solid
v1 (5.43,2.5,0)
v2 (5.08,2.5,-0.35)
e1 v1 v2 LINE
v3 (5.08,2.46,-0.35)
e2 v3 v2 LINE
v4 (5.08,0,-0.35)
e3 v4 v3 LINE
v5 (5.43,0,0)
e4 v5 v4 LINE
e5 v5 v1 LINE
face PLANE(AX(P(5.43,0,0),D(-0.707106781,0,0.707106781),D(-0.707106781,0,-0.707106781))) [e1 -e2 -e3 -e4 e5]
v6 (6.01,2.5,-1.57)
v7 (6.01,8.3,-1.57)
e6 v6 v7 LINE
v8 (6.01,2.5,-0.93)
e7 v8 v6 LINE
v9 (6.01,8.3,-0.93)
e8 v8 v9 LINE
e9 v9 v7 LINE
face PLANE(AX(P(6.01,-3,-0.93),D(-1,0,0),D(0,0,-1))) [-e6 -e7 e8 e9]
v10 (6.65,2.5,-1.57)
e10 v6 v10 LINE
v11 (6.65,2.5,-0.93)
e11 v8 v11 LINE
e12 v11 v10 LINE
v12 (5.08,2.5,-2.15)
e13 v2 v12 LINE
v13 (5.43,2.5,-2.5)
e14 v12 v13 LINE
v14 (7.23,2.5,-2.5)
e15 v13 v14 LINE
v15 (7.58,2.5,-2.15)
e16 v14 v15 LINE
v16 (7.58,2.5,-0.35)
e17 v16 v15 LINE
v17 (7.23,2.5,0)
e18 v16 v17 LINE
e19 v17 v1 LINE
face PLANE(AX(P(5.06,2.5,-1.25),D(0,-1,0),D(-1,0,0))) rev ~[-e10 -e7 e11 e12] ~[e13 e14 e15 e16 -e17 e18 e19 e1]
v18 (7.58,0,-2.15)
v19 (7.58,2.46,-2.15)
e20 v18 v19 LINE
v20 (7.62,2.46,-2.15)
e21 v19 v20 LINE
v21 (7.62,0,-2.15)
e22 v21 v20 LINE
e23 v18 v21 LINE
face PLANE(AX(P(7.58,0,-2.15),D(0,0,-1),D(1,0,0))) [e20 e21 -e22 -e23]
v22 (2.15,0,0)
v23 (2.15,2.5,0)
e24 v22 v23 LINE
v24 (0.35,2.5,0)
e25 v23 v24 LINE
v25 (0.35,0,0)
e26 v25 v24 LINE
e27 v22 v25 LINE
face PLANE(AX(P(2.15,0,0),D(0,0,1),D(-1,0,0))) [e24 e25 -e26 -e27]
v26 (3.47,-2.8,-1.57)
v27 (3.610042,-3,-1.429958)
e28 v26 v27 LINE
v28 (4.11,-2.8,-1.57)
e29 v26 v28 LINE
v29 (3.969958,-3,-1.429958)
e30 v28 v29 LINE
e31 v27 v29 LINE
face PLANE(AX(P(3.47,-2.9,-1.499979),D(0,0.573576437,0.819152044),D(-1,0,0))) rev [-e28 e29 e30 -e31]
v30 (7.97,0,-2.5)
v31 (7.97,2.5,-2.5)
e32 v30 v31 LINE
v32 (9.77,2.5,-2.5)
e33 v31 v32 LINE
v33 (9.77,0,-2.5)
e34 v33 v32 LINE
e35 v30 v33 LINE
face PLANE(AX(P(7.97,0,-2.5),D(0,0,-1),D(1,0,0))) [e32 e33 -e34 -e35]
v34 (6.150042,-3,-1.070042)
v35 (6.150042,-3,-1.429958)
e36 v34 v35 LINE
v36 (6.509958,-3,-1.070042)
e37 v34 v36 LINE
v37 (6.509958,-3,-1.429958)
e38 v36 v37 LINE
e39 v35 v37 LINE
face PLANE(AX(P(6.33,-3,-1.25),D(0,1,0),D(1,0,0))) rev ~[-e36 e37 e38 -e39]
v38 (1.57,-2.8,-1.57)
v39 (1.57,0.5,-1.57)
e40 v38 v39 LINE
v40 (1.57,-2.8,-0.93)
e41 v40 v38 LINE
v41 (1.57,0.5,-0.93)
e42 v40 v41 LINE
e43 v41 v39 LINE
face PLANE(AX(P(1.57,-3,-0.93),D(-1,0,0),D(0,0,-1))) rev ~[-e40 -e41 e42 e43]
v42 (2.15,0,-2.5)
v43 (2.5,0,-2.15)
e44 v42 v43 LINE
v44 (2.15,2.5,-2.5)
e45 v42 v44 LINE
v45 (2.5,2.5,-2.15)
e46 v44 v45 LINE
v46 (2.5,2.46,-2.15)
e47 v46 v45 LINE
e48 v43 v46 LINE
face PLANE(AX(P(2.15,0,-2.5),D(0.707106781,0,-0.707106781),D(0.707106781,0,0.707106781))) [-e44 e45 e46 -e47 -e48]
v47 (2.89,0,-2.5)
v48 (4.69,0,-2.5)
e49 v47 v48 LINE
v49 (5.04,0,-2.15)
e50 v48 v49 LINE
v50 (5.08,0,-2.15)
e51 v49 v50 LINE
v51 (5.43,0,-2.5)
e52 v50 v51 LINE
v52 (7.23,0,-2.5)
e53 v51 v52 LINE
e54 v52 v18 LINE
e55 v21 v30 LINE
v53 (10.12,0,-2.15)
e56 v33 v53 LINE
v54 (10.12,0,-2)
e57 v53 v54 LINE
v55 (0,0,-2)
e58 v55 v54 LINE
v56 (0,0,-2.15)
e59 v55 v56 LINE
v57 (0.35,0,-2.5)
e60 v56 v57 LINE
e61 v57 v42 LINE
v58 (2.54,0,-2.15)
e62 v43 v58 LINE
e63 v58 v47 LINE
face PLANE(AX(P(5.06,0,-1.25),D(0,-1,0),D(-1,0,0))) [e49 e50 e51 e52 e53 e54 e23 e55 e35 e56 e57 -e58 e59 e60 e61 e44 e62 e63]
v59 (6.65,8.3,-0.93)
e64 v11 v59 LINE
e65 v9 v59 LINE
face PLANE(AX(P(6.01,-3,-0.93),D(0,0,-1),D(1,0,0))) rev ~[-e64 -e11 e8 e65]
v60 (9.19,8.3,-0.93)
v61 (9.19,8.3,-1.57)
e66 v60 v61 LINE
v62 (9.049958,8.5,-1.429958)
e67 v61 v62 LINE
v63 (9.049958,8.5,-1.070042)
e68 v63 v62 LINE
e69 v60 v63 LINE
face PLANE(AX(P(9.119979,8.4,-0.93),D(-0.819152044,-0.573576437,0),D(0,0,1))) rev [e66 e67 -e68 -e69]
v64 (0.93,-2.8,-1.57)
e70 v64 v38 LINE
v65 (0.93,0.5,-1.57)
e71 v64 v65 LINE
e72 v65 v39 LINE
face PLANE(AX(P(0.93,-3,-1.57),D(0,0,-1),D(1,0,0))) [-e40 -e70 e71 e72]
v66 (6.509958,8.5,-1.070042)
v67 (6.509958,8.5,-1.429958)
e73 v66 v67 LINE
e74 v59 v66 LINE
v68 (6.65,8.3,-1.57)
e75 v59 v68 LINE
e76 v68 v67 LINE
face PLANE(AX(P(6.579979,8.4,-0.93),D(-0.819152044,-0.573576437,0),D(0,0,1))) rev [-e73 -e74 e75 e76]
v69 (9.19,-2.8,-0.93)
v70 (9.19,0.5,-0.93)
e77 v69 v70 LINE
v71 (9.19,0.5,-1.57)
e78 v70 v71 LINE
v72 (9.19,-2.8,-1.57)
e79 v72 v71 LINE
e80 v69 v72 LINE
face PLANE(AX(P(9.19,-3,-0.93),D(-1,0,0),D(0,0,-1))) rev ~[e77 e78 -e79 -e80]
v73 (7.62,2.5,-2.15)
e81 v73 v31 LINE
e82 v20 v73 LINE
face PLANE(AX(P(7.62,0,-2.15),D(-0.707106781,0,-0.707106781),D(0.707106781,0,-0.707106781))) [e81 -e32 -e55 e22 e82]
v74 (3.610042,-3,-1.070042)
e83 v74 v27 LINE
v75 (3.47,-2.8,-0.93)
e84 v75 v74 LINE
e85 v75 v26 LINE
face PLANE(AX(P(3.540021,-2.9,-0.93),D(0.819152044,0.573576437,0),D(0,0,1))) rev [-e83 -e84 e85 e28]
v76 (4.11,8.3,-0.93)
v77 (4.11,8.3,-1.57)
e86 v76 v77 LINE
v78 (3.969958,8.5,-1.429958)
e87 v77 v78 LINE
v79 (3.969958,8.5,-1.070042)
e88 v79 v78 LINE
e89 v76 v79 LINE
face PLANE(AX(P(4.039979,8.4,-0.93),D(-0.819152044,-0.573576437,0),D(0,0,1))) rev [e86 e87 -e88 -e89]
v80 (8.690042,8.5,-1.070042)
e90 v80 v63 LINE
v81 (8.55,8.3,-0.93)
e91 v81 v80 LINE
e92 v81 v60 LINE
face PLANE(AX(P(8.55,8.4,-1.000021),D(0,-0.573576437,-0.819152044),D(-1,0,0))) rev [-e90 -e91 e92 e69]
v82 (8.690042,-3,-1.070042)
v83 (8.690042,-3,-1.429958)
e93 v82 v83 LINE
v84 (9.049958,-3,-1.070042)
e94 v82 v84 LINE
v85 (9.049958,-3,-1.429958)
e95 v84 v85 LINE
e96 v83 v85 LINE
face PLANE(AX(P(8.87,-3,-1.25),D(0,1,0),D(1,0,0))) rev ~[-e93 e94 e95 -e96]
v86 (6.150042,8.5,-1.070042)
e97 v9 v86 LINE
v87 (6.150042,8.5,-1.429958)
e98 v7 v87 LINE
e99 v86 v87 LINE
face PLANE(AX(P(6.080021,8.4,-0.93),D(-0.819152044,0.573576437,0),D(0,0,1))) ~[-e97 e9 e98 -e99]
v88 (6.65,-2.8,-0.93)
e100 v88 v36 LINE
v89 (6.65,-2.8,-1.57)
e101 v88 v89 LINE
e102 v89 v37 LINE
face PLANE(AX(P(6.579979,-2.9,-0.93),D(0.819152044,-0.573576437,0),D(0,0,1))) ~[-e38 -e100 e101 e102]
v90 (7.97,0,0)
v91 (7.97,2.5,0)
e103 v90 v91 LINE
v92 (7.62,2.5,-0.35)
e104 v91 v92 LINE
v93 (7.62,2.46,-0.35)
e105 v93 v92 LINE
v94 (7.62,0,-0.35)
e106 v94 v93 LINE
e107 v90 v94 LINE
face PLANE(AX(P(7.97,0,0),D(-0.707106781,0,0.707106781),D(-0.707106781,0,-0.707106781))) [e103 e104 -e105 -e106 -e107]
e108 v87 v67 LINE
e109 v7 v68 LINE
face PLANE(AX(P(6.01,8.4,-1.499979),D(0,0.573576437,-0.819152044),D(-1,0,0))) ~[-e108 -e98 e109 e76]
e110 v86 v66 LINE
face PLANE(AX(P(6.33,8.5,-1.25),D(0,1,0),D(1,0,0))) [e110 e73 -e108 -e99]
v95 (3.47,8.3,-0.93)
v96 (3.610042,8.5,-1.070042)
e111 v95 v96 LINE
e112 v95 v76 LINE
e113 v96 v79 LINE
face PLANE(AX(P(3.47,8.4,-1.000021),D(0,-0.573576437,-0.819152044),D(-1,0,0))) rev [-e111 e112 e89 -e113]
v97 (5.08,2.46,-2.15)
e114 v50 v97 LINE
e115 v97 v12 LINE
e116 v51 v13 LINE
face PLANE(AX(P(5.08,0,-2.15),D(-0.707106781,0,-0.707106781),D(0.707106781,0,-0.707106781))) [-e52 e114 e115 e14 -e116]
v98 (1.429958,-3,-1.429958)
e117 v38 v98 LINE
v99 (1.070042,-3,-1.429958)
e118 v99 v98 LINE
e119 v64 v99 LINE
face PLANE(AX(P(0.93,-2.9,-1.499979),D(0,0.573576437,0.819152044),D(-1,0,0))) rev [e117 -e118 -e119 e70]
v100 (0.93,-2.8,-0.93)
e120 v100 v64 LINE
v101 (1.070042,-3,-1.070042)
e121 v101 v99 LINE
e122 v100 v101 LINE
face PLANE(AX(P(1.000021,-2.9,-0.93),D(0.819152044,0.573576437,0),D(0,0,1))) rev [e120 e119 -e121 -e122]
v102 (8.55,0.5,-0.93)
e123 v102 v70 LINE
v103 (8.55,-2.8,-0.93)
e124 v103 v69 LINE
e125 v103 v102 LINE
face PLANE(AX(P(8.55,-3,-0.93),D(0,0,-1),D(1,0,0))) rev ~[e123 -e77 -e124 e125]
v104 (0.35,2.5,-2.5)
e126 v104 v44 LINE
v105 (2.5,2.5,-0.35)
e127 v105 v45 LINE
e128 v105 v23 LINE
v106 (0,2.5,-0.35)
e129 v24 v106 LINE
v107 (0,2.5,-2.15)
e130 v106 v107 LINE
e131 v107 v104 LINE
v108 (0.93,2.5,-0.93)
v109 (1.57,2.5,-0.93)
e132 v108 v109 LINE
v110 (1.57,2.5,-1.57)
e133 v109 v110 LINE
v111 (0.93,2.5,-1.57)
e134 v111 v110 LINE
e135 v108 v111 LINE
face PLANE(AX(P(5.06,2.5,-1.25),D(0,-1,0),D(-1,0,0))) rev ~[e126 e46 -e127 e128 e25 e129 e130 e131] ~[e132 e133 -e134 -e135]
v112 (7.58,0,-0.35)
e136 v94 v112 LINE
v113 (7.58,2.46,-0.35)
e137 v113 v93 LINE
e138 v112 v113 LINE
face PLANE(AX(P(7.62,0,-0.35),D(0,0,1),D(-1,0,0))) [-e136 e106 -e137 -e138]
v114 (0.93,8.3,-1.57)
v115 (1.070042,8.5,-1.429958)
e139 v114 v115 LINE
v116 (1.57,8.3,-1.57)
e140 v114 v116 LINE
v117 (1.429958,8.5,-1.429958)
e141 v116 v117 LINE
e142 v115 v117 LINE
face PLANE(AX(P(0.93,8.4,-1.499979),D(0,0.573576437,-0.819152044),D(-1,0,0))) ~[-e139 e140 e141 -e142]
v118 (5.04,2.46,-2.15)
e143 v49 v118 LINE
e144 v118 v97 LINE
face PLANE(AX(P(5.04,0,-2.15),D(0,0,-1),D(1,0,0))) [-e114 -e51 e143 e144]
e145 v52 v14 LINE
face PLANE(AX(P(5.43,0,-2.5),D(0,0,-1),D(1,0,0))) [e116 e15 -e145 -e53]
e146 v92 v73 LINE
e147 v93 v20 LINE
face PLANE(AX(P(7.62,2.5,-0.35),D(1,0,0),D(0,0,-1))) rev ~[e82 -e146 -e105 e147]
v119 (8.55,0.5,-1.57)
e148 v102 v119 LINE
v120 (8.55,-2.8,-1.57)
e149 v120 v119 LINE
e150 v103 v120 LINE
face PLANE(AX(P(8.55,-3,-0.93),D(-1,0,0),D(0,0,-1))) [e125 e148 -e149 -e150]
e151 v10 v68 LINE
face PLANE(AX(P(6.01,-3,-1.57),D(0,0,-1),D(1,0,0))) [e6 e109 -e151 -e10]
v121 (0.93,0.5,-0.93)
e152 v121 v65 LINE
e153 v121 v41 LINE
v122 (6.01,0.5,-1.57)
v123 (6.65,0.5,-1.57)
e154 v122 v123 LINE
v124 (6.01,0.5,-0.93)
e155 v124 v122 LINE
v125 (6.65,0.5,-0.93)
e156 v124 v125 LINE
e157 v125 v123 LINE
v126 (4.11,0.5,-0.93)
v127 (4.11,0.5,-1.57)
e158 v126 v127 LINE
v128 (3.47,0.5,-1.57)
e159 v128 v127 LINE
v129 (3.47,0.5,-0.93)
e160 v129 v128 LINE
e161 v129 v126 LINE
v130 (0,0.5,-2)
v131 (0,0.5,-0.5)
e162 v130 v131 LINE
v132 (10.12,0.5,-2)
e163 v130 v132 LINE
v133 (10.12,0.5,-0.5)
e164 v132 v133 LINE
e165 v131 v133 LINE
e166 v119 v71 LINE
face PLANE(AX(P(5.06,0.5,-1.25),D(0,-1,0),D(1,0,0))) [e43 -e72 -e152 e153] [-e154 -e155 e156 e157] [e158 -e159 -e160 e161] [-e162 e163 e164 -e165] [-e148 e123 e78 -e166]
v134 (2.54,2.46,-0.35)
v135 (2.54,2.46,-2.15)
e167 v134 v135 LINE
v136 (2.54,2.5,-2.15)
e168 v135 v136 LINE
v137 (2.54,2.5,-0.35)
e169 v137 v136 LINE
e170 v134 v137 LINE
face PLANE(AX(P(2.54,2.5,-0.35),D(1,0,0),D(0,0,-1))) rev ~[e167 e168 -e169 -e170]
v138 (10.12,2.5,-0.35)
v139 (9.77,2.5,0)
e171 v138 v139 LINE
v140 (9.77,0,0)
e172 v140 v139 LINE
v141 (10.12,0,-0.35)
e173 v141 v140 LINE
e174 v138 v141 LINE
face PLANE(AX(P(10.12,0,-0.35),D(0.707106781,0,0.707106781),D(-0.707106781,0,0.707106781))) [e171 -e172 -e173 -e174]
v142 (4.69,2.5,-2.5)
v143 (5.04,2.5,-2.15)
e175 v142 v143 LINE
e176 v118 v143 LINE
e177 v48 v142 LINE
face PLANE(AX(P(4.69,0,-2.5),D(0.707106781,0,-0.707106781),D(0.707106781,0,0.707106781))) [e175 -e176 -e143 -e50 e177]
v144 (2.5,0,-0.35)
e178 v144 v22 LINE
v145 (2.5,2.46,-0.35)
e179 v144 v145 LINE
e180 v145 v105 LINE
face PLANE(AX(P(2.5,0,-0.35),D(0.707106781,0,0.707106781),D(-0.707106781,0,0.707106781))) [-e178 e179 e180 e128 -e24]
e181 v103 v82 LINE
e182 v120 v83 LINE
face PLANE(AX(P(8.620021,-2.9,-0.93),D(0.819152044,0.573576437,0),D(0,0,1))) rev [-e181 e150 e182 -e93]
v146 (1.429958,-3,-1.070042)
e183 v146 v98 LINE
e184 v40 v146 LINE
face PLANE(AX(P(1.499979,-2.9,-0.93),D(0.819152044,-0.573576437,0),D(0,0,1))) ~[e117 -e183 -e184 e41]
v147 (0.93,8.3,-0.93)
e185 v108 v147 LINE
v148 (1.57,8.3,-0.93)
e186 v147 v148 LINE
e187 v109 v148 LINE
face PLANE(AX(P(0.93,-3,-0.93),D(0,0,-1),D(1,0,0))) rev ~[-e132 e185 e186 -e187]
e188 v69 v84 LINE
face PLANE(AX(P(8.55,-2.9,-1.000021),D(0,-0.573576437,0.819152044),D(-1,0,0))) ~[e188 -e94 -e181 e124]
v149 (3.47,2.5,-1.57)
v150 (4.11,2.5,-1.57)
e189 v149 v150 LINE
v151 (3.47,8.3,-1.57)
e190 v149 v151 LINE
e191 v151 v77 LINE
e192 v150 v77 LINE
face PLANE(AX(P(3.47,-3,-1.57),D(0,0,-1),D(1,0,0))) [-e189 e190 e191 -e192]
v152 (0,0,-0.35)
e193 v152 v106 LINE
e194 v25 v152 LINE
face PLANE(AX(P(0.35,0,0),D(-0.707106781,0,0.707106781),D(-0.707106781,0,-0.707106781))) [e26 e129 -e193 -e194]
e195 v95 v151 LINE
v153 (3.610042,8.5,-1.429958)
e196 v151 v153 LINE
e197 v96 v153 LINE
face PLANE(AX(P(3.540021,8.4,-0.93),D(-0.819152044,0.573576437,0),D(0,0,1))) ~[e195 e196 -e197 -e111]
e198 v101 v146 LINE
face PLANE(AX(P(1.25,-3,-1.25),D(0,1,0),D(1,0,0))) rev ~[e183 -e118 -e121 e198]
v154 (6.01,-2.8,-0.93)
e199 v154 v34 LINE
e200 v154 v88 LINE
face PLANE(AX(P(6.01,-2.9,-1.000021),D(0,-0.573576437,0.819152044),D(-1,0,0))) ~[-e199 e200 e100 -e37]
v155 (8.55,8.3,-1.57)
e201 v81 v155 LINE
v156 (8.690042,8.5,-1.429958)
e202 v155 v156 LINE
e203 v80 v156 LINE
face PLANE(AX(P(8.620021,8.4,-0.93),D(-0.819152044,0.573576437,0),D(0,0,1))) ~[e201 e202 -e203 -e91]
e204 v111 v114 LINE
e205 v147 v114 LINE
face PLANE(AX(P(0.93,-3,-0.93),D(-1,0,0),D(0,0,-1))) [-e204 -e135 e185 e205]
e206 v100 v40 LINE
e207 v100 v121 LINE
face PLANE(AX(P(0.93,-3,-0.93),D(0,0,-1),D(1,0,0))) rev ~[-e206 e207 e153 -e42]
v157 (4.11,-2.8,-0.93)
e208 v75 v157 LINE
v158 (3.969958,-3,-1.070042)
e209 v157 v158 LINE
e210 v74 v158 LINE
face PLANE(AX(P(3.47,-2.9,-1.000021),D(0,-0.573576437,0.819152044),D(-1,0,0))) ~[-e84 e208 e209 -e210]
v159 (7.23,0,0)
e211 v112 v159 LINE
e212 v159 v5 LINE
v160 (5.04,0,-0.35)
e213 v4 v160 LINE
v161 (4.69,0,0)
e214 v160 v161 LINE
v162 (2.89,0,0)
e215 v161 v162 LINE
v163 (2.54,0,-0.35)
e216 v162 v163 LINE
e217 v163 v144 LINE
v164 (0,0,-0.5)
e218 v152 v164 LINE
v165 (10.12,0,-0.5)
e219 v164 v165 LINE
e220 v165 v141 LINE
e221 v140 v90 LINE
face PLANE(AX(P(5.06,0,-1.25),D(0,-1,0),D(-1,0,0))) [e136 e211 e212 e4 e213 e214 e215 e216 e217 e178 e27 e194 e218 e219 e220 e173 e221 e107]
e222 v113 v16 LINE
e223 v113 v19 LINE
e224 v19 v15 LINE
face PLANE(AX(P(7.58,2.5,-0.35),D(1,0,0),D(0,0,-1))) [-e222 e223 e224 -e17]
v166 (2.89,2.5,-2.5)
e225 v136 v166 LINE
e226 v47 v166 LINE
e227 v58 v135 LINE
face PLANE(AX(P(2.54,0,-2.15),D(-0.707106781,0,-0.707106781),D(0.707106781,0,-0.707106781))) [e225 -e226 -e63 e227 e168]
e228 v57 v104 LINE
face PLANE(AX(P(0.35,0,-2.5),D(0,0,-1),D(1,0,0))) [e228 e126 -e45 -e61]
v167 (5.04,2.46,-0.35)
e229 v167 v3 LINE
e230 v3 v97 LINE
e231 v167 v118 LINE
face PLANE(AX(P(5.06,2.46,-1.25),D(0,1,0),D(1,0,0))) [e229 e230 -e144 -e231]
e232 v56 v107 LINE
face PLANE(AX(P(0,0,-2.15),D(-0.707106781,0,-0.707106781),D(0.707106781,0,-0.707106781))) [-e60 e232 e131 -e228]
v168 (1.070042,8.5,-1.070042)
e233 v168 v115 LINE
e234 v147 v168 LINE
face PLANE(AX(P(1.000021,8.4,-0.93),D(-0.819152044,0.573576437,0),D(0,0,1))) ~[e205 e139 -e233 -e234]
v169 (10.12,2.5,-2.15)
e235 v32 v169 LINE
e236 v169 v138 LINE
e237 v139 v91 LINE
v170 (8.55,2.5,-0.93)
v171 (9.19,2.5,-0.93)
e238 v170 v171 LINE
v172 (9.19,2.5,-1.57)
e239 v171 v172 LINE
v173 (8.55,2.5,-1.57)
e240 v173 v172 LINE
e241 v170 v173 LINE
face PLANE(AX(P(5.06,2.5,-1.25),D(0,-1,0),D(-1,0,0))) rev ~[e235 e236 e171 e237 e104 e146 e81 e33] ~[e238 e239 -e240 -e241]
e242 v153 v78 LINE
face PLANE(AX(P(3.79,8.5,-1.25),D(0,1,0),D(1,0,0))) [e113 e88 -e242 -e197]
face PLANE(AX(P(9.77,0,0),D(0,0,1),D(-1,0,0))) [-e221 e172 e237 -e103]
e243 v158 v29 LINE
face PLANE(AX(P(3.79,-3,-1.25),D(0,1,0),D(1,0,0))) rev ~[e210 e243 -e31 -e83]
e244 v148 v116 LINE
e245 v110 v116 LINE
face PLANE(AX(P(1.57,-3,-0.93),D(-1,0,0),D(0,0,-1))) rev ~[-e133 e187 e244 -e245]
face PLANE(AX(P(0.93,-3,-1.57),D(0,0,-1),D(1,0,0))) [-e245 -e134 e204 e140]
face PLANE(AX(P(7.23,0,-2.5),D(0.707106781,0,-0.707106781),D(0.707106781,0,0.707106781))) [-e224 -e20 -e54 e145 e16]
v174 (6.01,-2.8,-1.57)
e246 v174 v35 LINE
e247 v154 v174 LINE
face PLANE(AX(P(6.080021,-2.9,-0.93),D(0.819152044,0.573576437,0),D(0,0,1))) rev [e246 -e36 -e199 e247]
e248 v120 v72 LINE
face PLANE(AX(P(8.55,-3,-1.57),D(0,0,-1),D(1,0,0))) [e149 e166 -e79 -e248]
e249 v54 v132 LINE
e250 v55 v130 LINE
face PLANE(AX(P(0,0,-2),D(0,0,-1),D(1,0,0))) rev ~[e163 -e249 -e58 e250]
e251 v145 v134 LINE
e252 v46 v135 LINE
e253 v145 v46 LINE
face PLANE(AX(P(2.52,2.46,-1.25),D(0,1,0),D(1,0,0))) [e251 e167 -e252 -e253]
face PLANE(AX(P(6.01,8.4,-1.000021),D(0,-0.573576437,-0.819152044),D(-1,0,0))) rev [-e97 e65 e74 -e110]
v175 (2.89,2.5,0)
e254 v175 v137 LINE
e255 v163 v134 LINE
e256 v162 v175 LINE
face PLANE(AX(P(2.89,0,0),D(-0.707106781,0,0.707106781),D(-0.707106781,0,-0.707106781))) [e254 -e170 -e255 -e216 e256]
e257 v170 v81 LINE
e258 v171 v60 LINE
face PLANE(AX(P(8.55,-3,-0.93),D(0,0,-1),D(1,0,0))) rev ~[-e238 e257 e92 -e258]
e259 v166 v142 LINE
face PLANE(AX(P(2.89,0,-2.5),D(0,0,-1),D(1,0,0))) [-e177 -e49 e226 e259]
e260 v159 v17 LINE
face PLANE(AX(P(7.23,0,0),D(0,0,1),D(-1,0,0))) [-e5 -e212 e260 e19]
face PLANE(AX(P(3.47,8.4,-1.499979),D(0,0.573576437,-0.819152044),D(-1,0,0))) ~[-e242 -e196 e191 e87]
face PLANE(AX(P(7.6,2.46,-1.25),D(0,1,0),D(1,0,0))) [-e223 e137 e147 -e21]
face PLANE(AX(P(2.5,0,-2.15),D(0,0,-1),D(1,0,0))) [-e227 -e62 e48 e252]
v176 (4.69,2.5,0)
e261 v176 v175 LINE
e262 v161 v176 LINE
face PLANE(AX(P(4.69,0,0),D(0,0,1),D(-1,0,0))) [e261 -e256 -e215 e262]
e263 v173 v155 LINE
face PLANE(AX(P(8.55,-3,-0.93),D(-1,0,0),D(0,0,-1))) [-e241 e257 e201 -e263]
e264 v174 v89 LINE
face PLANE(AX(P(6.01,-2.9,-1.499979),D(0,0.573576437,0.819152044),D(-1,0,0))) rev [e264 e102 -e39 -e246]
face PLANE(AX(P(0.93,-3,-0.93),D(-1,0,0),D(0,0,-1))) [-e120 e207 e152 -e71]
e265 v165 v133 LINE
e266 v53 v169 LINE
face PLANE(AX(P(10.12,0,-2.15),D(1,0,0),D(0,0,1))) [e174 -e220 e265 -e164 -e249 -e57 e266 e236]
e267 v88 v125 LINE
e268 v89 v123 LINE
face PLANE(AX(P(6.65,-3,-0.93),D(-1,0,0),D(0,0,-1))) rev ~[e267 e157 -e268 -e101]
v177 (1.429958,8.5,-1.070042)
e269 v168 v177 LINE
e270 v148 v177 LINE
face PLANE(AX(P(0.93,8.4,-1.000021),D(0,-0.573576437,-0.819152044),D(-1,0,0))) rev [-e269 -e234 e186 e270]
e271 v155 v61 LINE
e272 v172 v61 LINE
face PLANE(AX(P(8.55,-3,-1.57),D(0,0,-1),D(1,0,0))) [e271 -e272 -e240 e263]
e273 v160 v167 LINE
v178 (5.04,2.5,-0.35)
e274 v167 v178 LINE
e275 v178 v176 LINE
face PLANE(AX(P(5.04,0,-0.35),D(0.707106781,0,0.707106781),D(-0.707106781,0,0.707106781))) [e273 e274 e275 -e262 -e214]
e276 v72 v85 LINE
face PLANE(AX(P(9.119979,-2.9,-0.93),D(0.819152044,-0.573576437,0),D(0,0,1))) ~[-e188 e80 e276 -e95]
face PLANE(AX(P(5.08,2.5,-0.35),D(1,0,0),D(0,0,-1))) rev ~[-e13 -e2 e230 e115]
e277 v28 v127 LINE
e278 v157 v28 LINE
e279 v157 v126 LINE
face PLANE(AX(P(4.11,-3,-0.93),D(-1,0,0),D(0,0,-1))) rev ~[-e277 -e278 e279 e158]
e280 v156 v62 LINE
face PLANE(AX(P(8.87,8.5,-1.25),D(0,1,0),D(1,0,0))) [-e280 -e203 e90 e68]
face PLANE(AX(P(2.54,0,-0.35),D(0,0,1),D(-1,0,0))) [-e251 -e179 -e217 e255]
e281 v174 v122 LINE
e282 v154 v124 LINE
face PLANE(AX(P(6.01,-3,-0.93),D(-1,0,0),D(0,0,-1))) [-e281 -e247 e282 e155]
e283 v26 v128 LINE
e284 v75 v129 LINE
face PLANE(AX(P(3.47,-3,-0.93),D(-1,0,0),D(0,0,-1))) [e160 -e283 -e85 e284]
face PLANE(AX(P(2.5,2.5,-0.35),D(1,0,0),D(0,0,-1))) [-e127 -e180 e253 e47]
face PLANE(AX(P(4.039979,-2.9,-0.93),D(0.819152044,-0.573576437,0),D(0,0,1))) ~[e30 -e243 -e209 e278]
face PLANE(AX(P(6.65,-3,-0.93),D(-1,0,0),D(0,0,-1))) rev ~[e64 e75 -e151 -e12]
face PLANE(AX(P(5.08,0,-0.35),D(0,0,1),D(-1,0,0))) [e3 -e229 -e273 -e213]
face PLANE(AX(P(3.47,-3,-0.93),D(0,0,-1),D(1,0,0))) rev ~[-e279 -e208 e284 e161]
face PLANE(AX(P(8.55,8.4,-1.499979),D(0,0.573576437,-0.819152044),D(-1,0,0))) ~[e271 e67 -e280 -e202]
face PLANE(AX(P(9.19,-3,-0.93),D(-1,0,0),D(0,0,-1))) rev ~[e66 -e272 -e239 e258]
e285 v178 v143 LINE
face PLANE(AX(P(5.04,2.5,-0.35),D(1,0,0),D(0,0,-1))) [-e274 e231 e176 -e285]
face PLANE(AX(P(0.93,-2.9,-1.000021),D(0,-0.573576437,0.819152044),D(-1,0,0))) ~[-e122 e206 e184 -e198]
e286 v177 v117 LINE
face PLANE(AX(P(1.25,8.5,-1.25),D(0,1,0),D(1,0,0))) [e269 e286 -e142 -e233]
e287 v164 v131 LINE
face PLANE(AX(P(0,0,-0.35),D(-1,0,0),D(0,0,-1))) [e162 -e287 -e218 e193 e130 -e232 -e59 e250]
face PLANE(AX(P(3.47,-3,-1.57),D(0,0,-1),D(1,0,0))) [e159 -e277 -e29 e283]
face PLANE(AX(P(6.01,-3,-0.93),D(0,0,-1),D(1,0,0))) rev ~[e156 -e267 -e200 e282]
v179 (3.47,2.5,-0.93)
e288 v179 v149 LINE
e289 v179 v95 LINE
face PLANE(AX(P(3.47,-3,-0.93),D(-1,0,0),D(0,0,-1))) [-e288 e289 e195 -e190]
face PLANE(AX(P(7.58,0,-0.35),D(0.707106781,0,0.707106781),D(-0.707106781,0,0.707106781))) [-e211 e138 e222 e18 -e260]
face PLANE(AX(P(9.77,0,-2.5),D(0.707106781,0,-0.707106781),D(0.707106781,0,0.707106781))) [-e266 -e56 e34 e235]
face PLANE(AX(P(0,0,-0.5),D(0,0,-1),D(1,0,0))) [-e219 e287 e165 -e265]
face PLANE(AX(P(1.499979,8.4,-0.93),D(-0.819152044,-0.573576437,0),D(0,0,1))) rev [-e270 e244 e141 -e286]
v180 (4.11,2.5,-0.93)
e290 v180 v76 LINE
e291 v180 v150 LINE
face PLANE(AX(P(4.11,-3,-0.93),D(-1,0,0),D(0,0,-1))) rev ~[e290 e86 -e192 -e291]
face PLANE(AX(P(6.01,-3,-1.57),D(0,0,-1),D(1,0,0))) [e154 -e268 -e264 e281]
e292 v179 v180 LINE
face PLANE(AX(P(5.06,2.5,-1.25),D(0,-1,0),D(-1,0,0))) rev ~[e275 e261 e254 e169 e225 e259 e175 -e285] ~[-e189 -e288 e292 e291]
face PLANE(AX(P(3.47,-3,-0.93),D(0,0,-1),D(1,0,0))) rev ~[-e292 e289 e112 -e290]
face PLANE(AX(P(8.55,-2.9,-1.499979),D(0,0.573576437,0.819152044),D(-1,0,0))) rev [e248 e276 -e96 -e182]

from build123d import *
from OCP.BRepFilletAPI import BRepFilletAPI_MakeChamfer

# Parameters (mm, degrees)
BOSS_EXTRUDE1_DEPTH         = 2.5
SKETCH2_W                   = 10.12
SKETCH2_H                   = 1.5
CUT_EXTRUDE1_DEPTH          = 0.5
SKETCH4_W                   = 0.04
SKETCH4_H                   = 1.8
CUT_EXTRUDE2_DEPTH          = 0.04
BOSS_EXTRUDE2_START         = -5.5
SKETCH3_W                   = 0.64
SKETCH3_H                   = 0.64
BOSS_EXTRUDE2_DEPTH         = 11.5
CHAMFER1_SIZE               = 0.2
CHAMFER1_SIZE2              = 0.140041508
LPATTERN1_COUNT             = 4
LPATTERN1_PITCH             = 2.54
CHAMFER1_OF_LPATTERN1_SIZE  = 0.2
CHAMFER1_OF_LPATTERN1_SIZE2 = 0.140041508


with BuildPart() as part:
    # Sketch1 → Boss-Extrude1 (new body)
    with BuildSketch(Plane(origin=(0, 0, 0), x_dir=(1, 0, 0), z_dir=(0, 1, 0))):
        Polygon((0, 2.15), (0.35, 2.5), (2.15, 2.5), (2.5, 2.15), (2.54, 2.15), (2.89, 2.5), (4.69, 2.5), (5.04, 2.15), (5.08, 2.15), (5.43, 2.5), (7.23, 2.5), (7.58, 2.15), (7.62, 2.15), (7.97, 2.5), (9.77, 2.5), (10.12, 2.15), (10.12, 0.35), (9.77, 0), (7.97, 0), (7.62, 0.35), (7.58, 0.35), (7.23, 0), (5.43, 0), (5.08, 0.35), (5.04, 0.35), (4.69, 0), (2.89, 0), (2.54, 0.35), (2.5, 0.35), (2.15, 0), (0.35, 0), (0, 0.35), align=None)
    extrude(amount=BOSS_EXTRUDE1_DEPTH)

    # Sketch2 → Cut-Extrude1 (cut)
    with BuildSketch(Plane.XZ):
        with Locations((5.06, -1.25)):
            Rectangle(SKETCH2_W, SKETCH2_H)
    extrude(amount=-CUT_EXTRUDE1_DEPTH, mode=Mode.SUBTRACT)

    # Sketch4 → Cut-Extrude2 (cut)
    with BuildSketch(Plane(origin=(0, 2.5, 0), x_dir=(1, 0, 0), z_dir=(0, 1, 0))):
        with Locations((5.06, 1.25)):
            Rectangle(SKETCH4_W, SKETCH4_H)
        with Locations((2.52, 1.25)):
            Rectangle(SKETCH4_W, SKETCH4_H)
        with Locations((7.6, 1.25)):
            Rectangle(SKETCH4_W, SKETCH4_H)
        with Locations((10.14, 1.25)):
            Rectangle(SKETCH4_W, SKETCH4_H)
        with Locations((12.68, 1.25)):
            Rectangle(SKETCH4_W, SKETCH4_H)
        with Locations((15.22, 1.25)):
            Rectangle(SKETCH4_W, SKETCH4_H)
        with Locations((17.76, 1.25)):
            Rectangle(SKETCH4_W, SKETCH4_H)
    extrude(amount=-CUT_EXTRUDE2_DEPTH, mode=Mode.SUBTRACT)

    # Sketch3 → Boss-Extrude2 (add)
    with BuildSketch(Plane(origin=(0, 2.5, 0), x_dir=(1, 0, 0), z_dir=(0, 1, 0)).offset(BOSS_EXTRUDE2_START)):
        with Locations((1.25, 1.25)):
            Rectangle(SKETCH3_W, SKETCH3_H)
    boss_extrude2 = extrude(amount=BOSS_EXTRUDE2_DEPTH)

    # Chamfer1: one chamfer whose edges measure the first distance from different faces: ONE call of the kernel's chamfer builder (chamfer() names one face for all edges)
    chamfer1_edges_1 = [part.edges().sort_by_distance(p)[0] for p in [
        (1.57, -3, -1.25),
    ]]
    chamfer1_side_1 = [part.faces().sort_by_distance(p)[0] for p in [
        (1.57, -1.25, -1.25),
    ]]
    chamfer1_edges_2 = [part.edges().sort_by_distance(p)[0] for p in [
        (1.25, -3, -0.93),
    ]]
    chamfer1_side_2 = [part.faces().sort_by_distance(p)[0] for p in [
        (1.25, -1.25, -0.93),
    ]]
    chamfer1_edges_3 = [part.edges().sort_by_distance(p)[0] for p in [
        (0.93, -3, -1.25),
    ]]
    chamfer1_side_3 = [part.faces().sort_by_distance(p)[0] for p in [
        (0.93, -1.25, -1.25),
    ]]
    chamfer1_edges_4 = [part.edges().sort_by_distance(p)[0] for p in [
        (1.25, -3, -1.57),
    ]]
    chamfer1_side_4 = [part.faces().sort_by_distance(p)[0] for p in [
        (1.25, -1.25, -1.57),
    ]]
    chamfer1_edges_5 = [part.edges().sort_by_distance(p)[0] for p in [
        (1.57, 8.5, -1.25),
    ]]
    chamfer1_side_5 = [part.faces().sort_by_distance(p)[0] for p in [
        (1.57, 5.5, -1.25),
    ]]
    chamfer1_edges_6 = [part.edges().sort_by_distance(p)[0] for p in [
        (1.25, 8.5, -1.57),
    ]]
    chamfer1_side_6 = [part.faces().sort_by_distance(p)[0] for p in [
        (1.25, 5.5, -1.57),
    ]]
    chamfer1_edges_7 = [part.edges().sort_by_distance(p)[0] for p in [
        (0.93, 8.5, -1.25),
    ]]
    chamfer1_side_7 = [part.faces().sort_by_distance(p)[0] for p in [
        (0.93, 5.5, -1.25),
    ]]
    chamfer1_edges_8 = [part.edges().sort_by_distance(p)[0] for p in [
        (1.25, 8.5, -0.93),
    ]]
    chamfer1_side_8 = [part.faces().sort_by_distance(p)[0] for p in [
        (1.25, 5.5, -0.93),
    ]]
    chamfer1 = BRepFilletAPI_MakeChamfer(part.part.solid().wrapped)
    for e in chamfer1_edges_1:
        chamfer1.Add(CHAMFER1_SIZE, CHAMFER1_SIZE2, e.wrapped, chamfer1_side_1[0].wrapped)  # the first distance lies on this face
    for e in chamfer1_edges_2:
        chamfer1.Add(CHAMFER1_SIZE, CHAMFER1_SIZE2, e.wrapped, chamfer1_side_2[0].wrapped)  # the first distance lies on this face
    for e in chamfer1_edges_3:
        chamfer1.Add(CHAMFER1_SIZE, CHAMFER1_SIZE2, e.wrapped, chamfer1_side_3[0].wrapped)  # the first distance lies on this face
    for e in chamfer1_edges_4:
        chamfer1.Add(CHAMFER1_SIZE, CHAMFER1_SIZE2, e.wrapped, chamfer1_side_4[0].wrapped)  # the first distance lies on this face
    for e in chamfer1_edges_5:
        chamfer1.Add(CHAMFER1_SIZE, CHAMFER1_SIZE2, e.wrapped, chamfer1_side_5[0].wrapped)  # the first distance lies on this face
    for e in chamfer1_edges_6:
        chamfer1.Add(CHAMFER1_SIZE, CHAMFER1_SIZE2, e.wrapped, chamfer1_side_6[0].wrapped)  # the first distance lies on this face
    for e in chamfer1_edges_7:
        chamfer1.Add(CHAMFER1_SIZE, CHAMFER1_SIZE2, e.wrapped, chamfer1_side_7[0].wrapped)  # the first distance lies on this face
    for e in chamfer1_edges_8:
        chamfer1.Add(CHAMFER1_SIZE, CHAMFER1_SIZE2, e.wrapped, chamfer1_side_8[0].wrapped)  # the first distance lies on this face
    add(Compound.cast(chamfer1.Shape()), mode=Mode.REPLACE)

    # LPattern1: Boss-Extrude2 ×4
    with Locations(*[(i * LPATTERN1_PITCH, 0, 0) for i in range(1, LPATTERN1_COUNT)]):
        add(boss_extrude2)

    # Chamfer1 of LPattern1: one chamfer whose edges measure the first distance from different faces: ONE call of the kernel's chamfer builder (chamfer() names one face for all edges)
    chamfer1_of_lpattern1_edges_1 = [part.edges().sort_by_distance(p)[0] for p in [
        (4.11, -3, -1.25),
    ]]
    chamfer1_of_lpattern1_side_1 = [part.faces().sort_by_distance(p)[0] for p in [
        (4.11, -1.25, -1.25),
    ]]
    chamfer1_of_lpattern1_edges_2 = [part.edges().sort_by_distance(p)[0] for p in [
        (3.79, -3, -0.93),
    ]]
    chamfer1_of_lpattern1_side_2 = [part.faces().sort_by_distance(p)[0] for p in [
        (3.79, -1.25, -0.93),
    ]]
    chamfer1_of_lpattern1_edges_3 = [part.edges().sort_by_distance(p)[0] for p in [
        (3.47, -3, -1.25),
    ]]
    chamfer1_of_lpattern1_side_3 = [part.faces().sort_by_distance(p)[0] for p in [
        (3.47, -1.25, -1.25),
    ]]
    chamfer1_of_lpattern1_edges_4 = [part.edges().sort_by_distance(p)[0] for p in [
        (3.79, -3, -1.57),
    ]]
    chamfer1_of_lpattern1_side_4 = [part.faces().sort_by_distance(p)[0] for p in [
        (3.79, -1.25, -1.57),
    ]]
    chamfer1_of_lpattern1_edges_5 = [part.edges().sort_by_distance(p)[0] for p in [
        (4.11, 8.5, -1.25),
    ]]
    chamfer1_of_lpattern1_side_5 = [part.faces().sort_by_distance(p)[0] for p in [
        (4.11, 5.5, -1.25),
    ]]
    chamfer1_of_lpattern1_edges_6 = [part.edges().sort_by_distance(p)[0] for p in [
        (3.79, 8.5, -1.57),
    ]]
    chamfer1_of_lpattern1_side_6 = [part.faces().sort_by_distance(p)[0] for p in [
        (3.79, 5.5, -1.57),
    ]]
    chamfer1_of_lpattern1_edges_7 = [part.edges().sort_by_distance(p)[0] for p in [
        (3.47, 8.5, -1.25),
    ]]
    chamfer1_of_lpattern1_side_7 = [part.faces().sort_by_distance(p)[0] for p in [
        (3.47, 5.5, -1.25),
    ]]
    chamfer1_of_lpattern1_edges_8 = [part.edges().sort_by_distance(p)[0] for p in [
        (3.79, 8.5, -0.93),
    ]]
    chamfer1_of_lpattern1_side_8 = [part.faces().sort_by_distance(p)[0] for p in [
        (3.79, 5.5, -0.93),
    ]]
    chamfer1_of_lpattern1_edges_9 = [part.edges().sort_by_distance(p)[0] for p in [
        (6.65, -3, -1.25),
    ]]
    chamfer1_of_lpattern1_side_9 = [part.faces().sort_by_distance(p)[0] for p in [
        (6.65, -1.25, -1.25),
    ]]
    chamfer1_of_lpattern1_edges_10 = [part.edges().sort_by_distance(p)[0] for p in [
        (6.33, -3, -0.93),
    ]]
    chamfer1_of_lpattern1_side_10 = [part.faces().sort_by_distance(p)[0] for p in [
        (6.33, -1.25, -0.93),
    ]]
    chamfer1_of_lpattern1_edges_11 = [part.edges().sort_by_distance(p)[0] for p in [
        (6.01, -3, -1.25),
    ]]
    chamfer1_of_lpattern1_side_11 = [part.faces().sort_by_distance(p)[0] for p in [
        (6.01, -1.25, -1.25),
    ]]
    chamfer1_of_lpattern1_edges_12 = [part.edges().sort_by_distance(p)[0] for p in [
        (6.33, -3, -1.57),
    ]]
    chamfer1_of_lpattern1_side_12 = [part.faces().sort_by_distance(p)[0] for p in [
        (6.33, -1.25, -1.57),
    ]]
    chamfer1_of_lpattern1_edges_13 = [part.edges().sort_by_distance(p)[0] for p in [
        (6.65, 8.5, -1.25),
    ]]
    chamfer1_of_lpattern1_side_13 = [part.faces().sort_by_distance(p)[0] for p in [
        (6.65, 5.5, -1.25),
    ]]
    chamfer1_of_lpattern1_edges_14 = [part.edges().sort_by_distance(p)[0] for p in [
        (6.33, 8.5, -1.57),
    ]]
    chamfer1_of_lpattern1_side_14 = [part.faces().sort_by_distance(p)[0] for p in [
        (6.33, 5.5, -1.57),
    ]]
    chamfer1_of_lpattern1_edges_15 = [part.edges().sort_by_distance(p)[0] for p in [
        (6.01, 8.5, -1.25),
    ]]
    chamfer1_of_lpattern1_side_15 = [part.faces().sort_by_distance(p)[0] for p in [
        (6.01, 5.5, -1.25),
    ]]
    chamfer1_of_lpattern1_edges_16 = [part.edges().sort_by_distance(p)[0] for p in [
        (6.33, 8.5, -0.93),
    ]]
    chamfer1_of_lpattern1_side_16 = [part.faces().sort_by_distance(p)[0] for p in [
        (6.33, 5.5, -0.93),
    ]]
    chamfer1_of_lpattern1_edges_17 = [part.edges().sort_by_distance(p)[0] for p in [
        (9.19, -3, -1.25),
    ]]
    chamfer1_of_lpattern1_side_17 = [part.faces().sort_by_distance(p)[0] for p in [
        (9.19, -1.25, -1.25),
    ]]
    chamfer1_of_lpattern1_edges_18 = [part.edges().sort_by_distance(p)[0] for p in [
        (8.87, -3, -0.93),
    ]]
    chamfer1_of_lpattern1_side_18 = [part.faces().sort_by_distance(p)[0] for p in [
        (8.87, -1.25, -0.93),
    ]]
    chamfer1_of_lpattern1_edges_19 = [part.edges().sort_by_distance(p)[0] for p in [
        (8.55, -3, -1.25),
    ]]
    chamfer1_of_lpattern1_side_19 = [part.faces().sort_by_distance(p)[0] for p in [
        (8.55, -1.25, -1.25),
    ]]
    chamfer1_of_lpattern1_edges_20 = [part.edges().sort_by_distance(p)[0] for p in [
        (8.87, -3, -1.57),
    ]]
    chamfer1_of_lpattern1_side_20 = [part.faces().sort_by_distance(p)[0] for p in [
        (8.87, -1.25, -1.57),
    ]]
    chamfer1_of_lpattern1_edges_21 = [part.edges().sort_by_distance(p)[0] for p in [
        (9.19, 8.5, -1.25),
    ]]
    chamfer1_of_lpattern1_side_21 = [part.faces().sort_by_distance(p)[0] for p in [
        (9.19, 5.5, -1.25),
    ]]
    chamfer1_of_lpattern1_edges_22 = [part.edges().sort_by_distance(p)[0] for p in [
        (8.87, 8.5, -1.57),
    ]]
    chamfer1_of_lpattern1_side_22 = [part.faces().sort_by_distance(p)[0] for p in [
        (8.87, 5.5, -1.57),
    ]]
    chamfer1_of_lpattern1_edges_23 = [part.edges().sort_by_distance(p)[0] for p in [
        (8.55, 8.5, -1.25),
    ]]
    chamfer1_of_lpattern1_side_23 = [part.faces().sort_by_distance(p)[0] for p in [
        (8.55, 5.5, -1.25),
    ]]
    chamfer1_of_lpattern1_edges_24 = [part.edges().sort_by_distance(p)[0] for p in [
        (8.87, 8.5, -0.93),
    ]]
    chamfer1_of_lpattern1_side_24 = [part.faces().sort_by_distance(p)[0] for p in [
        (8.87, 5.5, -0.93),
    ]]
    chamfer1_of_lpattern1 = BRepFilletAPI_MakeChamfer(part.part.solid().wrapped)
    for e in chamfer1_of_lpattern1_edges_1:
        chamfer1_of_lpattern1.Add(CHAMFER1_OF_LPATTERN1_SIZE, CHAMFER1_OF_LPATTERN1_SIZE2, e.wrapped, chamfer1_of_lpattern1_side_1[0].wrapped)  # the first distance lies on this face
    for e in chamfer1_of_lpattern1_edges_2:
        chamfer1_of_lpattern1.Add(CHAMFER1_OF_LPATTERN1_SIZE, CHAMFER1_OF_LPATTERN1_SIZE2, e.wrapped, chamfer1_of_lpattern1_side_2[0].wrapped)  # the first distance lies on this face
    for e in chamfer1_of_lpattern1_edges_3:
        chamfer1_of_lpattern1.Add(CHAMFER1_OF_LPATTERN1_SIZE, CHAMFER1_OF_LPATTERN1_SIZE2, e.wrapped, chamfer1_of_lpattern1_side_3[0].wrapped)  # the first distance lies on this face
    for e in chamfer1_of_lpattern1_edges_4:
        chamfer1_of_lpattern1.Add(CHAMFER1_OF_LPATTERN1_SIZE, CHAMFER1_OF_LPATTERN1_SIZE2, e.wrapped, chamfer1_of_lpattern1_side_4[0].wrapped)  # the first distance lies on this face
    for e in chamfer1_of_lpattern1_edges_5:
        chamfer1_of_lpattern1.Add(CHAMFER1_OF_LPATTERN1_SIZE, CHAMFER1_OF_LPATTERN1_SIZE2, e.wrapped, chamfer1_of_lpattern1_side_5[0].wrapped)  # the first distance lies on this face
    for e in chamfer1_of_lpattern1_edges_6:
        chamfer1_of_lpattern1.Add(CHAMFER1_OF_LPATTERN1_SIZE, CHAMFER1_OF_LPATTERN1_SIZE2, e.wrapped, chamfer1_of_lpattern1_side_6[0].wrapped)  # the first distance lies on this face
    for e in chamfer1_of_lpattern1_edges_7:
        chamfer1_of_lpattern1.Add(CHAMFER1_OF_LPATTERN1_SIZE, CHAMFER1_OF_LPATTERN1_SIZE2, e.wrapped, chamfer1_of_lpattern1_side_7[0].wrapped)  # the first distance lies on this face
    for e in chamfer1_of_lpattern1_edges_8:
        chamfer1_of_lpattern1.Add(CHAMFER1_OF_LPATTERN1_SIZE, CHAMFER1_OF_LPATTERN1_SIZE2, e.wrapped, chamfer1_of_lpattern1_side_8[0].wrapped)  # the first distance lies on this face
    for e in chamfer1_of_lpattern1_edges_9:
        chamfer1_of_lpattern1.Add(CHAMFER1_OF_LPATTERN1_SIZE, CHAMFER1_OF_LPATTERN1_SIZE2, e.wrapped, chamfer1_of_lpattern1_side_9[0].wrapped)  # the first distance lies on this face
    for e in chamfer1_of_lpattern1_edges_10:
        chamfer1_of_lpattern1.Add(CHAMFER1_OF_LPATTERN1_SIZE, CHAMFER1_OF_LPATTERN1_SIZE2, e.wrapped, chamfer1_of_lpattern1_side_10[0].wrapped)  # the first distance lies on this face
    for e in chamfer1_of_lpattern1_edges_11:
        chamfer1_of_lpattern1.Add(CHAMFER1_OF_LPATTERN1_SIZE, CHAMFER1_OF_LPATTERN1_SIZE2, e.wrapped, chamfer1_of_lpattern1_side_11[0].wrapped)  # the first distance lies on this face
    for e in chamfer1_of_lpattern1_edges_12:
        chamfer1_of_lpattern1.Add(CHAMFER1_OF_LPATTERN1_SIZE, CHAMFER1_OF_LPATTERN1_SIZE2, e.wrapped, chamfer1_of_lpattern1_side_12[0].wrapped)  # the first distance lies on this face
    for e in chamfer1_of_lpattern1_edges_13:
        chamfer1_of_lpattern1.Add(CHAMFER1_OF_LPATTERN1_SIZE, CHAMFER1_OF_LPATTERN1_SIZE2, e.wrapped, chamfer1_of_lpattern1_side_13[0].wrapped)  # the first distance lies on this face
    for e in chamfer1_of_lpattern1_edges_14:
        chamfer1_of_lpattern1.Add(CHAMFER1_OF_LPATTERN1_SIZE, CHAMFER1_OF_LPATTERN1_SIZE2, e.wrapped, chamfer1_of_lpattern1_side_14[0].wrapped)  # the first distance lies on this face
    for e in chamfer1_of_lpattern1_edges_15:
        chamfer1_of_lpattern1.Add(CHAMFER1_OF_LPATTERN1_SIZE, CHAMFER1_OF_LPATTERN1_SIZE2, e.wrapped, chamfer1_of_lpattern1_side_15[0].wrapped)  # the first distance lies on this face
    for e in chamfer1_of_lpattern1_edges_16:
        chamfer1_of_lpattern1.Add(CHAMFER1_OF_LPATTERN1_SIZE, CHAMFER1_OF_LPATTERN1_SIZE2, e.wrapped, chamfer1_of_lpattern1_side_16[0].wrapped)  # the first distance lies on this face
    for e in chamfer1_of_lpattern1_edges_17:
        chamfer1_of_lpattern1.Add(CHAMFER1_OF_LPATTERN1_SIZE, CHAMFER1_OF_LPATTERN1_SIZE2, e.wrapped, chamfer1_of_lpattern1_side_17[0].wrapped)  # the first distance lies on this face
    for e in chamfer1_of_lpattern1_edges_18:
        chamfer1_of_lpattern1.Add(CHAMFER1_OF_LPATTERN1_SIZE, CHAMFER1_OF_LPATTERN1_SIZE2, e.wrapped, chamfer1_of_lpattern1_side_18[0].wrapped)  # the first distance lies on this face
    for e in chamfer1_of_lpattern1_edges_19:
        chamfer1_of_lpattern1.Add(CHAMFER1_OF_LPATTERN1_SIZE, CHAMFER1_OF_LPATTERN1_SIZE2, e.wrapped, chamfer1_of_lpattern1_side_19[0].wrapped)  # the first distance lies on this face
    for e in chamfer1_of_lpattern1_edges_20:
        chamfer1_of_lpattern1.Add(CHAMFER1_OF_LPATTERN1_SIZE, CHAMFER1_OF_LPATTERN1_SIZE2, e.wrapped, chamfer1_of_lpattern1_side_20[0].wrapped)  # the first distance lies on this face
    for e in chamfer1_of_lpattern1_edges_21:
        chamfer1_of_lpattern1.Add(CHAMFER1_OF_LPATTERN1_SIZE, CHAMFER1_OF_LPATTERN1_SIZE2, e.wrapped, chamfer1_of_lpattern1_side_21[0].wrapped)  # the first distance lies on this face
    for e in chamfer1_of_lpattern1_edges_22:
        chamfer1_of_lpattern1.Add(CHAMFER1_OF_LPATTERN1_SIZE, CHAMFER1_OF_LPATTERN1_SIZE2, e.wrapped, chamfer1_of_lpattern1_side_22[0].wrapped)  # the first distance lies on this face
    for e in chamfer1_of_lpattern1_edges_23:
        chamfer1_of_lpattern1.Add(CHAMFER1_OF_LPATTERN1_SIZE, CHAMFER1_OF_LPATTERN1_SIZE2, e.wrapped, chamfer1_of_lpattern1_side_23[0].wrapped)  # the first distance lies on this face
    for e in chamfer1_of_lpattern1_edges_24:
        chamfer1_of_lpattern1.Add(CHAMFER1_OF_LPATTERN1_SIZE, CHAMFER1_OF_LPATTERN1_SIZE2, e.wrapped, chamfer1_of_lpattern1_side_24[0].wrapped)  # the first distance lies on this face
    add(Compound.cast(chamfer1_of_lpattern1.Shape()), mode=Mode.REPLACE)


solid = part.part
